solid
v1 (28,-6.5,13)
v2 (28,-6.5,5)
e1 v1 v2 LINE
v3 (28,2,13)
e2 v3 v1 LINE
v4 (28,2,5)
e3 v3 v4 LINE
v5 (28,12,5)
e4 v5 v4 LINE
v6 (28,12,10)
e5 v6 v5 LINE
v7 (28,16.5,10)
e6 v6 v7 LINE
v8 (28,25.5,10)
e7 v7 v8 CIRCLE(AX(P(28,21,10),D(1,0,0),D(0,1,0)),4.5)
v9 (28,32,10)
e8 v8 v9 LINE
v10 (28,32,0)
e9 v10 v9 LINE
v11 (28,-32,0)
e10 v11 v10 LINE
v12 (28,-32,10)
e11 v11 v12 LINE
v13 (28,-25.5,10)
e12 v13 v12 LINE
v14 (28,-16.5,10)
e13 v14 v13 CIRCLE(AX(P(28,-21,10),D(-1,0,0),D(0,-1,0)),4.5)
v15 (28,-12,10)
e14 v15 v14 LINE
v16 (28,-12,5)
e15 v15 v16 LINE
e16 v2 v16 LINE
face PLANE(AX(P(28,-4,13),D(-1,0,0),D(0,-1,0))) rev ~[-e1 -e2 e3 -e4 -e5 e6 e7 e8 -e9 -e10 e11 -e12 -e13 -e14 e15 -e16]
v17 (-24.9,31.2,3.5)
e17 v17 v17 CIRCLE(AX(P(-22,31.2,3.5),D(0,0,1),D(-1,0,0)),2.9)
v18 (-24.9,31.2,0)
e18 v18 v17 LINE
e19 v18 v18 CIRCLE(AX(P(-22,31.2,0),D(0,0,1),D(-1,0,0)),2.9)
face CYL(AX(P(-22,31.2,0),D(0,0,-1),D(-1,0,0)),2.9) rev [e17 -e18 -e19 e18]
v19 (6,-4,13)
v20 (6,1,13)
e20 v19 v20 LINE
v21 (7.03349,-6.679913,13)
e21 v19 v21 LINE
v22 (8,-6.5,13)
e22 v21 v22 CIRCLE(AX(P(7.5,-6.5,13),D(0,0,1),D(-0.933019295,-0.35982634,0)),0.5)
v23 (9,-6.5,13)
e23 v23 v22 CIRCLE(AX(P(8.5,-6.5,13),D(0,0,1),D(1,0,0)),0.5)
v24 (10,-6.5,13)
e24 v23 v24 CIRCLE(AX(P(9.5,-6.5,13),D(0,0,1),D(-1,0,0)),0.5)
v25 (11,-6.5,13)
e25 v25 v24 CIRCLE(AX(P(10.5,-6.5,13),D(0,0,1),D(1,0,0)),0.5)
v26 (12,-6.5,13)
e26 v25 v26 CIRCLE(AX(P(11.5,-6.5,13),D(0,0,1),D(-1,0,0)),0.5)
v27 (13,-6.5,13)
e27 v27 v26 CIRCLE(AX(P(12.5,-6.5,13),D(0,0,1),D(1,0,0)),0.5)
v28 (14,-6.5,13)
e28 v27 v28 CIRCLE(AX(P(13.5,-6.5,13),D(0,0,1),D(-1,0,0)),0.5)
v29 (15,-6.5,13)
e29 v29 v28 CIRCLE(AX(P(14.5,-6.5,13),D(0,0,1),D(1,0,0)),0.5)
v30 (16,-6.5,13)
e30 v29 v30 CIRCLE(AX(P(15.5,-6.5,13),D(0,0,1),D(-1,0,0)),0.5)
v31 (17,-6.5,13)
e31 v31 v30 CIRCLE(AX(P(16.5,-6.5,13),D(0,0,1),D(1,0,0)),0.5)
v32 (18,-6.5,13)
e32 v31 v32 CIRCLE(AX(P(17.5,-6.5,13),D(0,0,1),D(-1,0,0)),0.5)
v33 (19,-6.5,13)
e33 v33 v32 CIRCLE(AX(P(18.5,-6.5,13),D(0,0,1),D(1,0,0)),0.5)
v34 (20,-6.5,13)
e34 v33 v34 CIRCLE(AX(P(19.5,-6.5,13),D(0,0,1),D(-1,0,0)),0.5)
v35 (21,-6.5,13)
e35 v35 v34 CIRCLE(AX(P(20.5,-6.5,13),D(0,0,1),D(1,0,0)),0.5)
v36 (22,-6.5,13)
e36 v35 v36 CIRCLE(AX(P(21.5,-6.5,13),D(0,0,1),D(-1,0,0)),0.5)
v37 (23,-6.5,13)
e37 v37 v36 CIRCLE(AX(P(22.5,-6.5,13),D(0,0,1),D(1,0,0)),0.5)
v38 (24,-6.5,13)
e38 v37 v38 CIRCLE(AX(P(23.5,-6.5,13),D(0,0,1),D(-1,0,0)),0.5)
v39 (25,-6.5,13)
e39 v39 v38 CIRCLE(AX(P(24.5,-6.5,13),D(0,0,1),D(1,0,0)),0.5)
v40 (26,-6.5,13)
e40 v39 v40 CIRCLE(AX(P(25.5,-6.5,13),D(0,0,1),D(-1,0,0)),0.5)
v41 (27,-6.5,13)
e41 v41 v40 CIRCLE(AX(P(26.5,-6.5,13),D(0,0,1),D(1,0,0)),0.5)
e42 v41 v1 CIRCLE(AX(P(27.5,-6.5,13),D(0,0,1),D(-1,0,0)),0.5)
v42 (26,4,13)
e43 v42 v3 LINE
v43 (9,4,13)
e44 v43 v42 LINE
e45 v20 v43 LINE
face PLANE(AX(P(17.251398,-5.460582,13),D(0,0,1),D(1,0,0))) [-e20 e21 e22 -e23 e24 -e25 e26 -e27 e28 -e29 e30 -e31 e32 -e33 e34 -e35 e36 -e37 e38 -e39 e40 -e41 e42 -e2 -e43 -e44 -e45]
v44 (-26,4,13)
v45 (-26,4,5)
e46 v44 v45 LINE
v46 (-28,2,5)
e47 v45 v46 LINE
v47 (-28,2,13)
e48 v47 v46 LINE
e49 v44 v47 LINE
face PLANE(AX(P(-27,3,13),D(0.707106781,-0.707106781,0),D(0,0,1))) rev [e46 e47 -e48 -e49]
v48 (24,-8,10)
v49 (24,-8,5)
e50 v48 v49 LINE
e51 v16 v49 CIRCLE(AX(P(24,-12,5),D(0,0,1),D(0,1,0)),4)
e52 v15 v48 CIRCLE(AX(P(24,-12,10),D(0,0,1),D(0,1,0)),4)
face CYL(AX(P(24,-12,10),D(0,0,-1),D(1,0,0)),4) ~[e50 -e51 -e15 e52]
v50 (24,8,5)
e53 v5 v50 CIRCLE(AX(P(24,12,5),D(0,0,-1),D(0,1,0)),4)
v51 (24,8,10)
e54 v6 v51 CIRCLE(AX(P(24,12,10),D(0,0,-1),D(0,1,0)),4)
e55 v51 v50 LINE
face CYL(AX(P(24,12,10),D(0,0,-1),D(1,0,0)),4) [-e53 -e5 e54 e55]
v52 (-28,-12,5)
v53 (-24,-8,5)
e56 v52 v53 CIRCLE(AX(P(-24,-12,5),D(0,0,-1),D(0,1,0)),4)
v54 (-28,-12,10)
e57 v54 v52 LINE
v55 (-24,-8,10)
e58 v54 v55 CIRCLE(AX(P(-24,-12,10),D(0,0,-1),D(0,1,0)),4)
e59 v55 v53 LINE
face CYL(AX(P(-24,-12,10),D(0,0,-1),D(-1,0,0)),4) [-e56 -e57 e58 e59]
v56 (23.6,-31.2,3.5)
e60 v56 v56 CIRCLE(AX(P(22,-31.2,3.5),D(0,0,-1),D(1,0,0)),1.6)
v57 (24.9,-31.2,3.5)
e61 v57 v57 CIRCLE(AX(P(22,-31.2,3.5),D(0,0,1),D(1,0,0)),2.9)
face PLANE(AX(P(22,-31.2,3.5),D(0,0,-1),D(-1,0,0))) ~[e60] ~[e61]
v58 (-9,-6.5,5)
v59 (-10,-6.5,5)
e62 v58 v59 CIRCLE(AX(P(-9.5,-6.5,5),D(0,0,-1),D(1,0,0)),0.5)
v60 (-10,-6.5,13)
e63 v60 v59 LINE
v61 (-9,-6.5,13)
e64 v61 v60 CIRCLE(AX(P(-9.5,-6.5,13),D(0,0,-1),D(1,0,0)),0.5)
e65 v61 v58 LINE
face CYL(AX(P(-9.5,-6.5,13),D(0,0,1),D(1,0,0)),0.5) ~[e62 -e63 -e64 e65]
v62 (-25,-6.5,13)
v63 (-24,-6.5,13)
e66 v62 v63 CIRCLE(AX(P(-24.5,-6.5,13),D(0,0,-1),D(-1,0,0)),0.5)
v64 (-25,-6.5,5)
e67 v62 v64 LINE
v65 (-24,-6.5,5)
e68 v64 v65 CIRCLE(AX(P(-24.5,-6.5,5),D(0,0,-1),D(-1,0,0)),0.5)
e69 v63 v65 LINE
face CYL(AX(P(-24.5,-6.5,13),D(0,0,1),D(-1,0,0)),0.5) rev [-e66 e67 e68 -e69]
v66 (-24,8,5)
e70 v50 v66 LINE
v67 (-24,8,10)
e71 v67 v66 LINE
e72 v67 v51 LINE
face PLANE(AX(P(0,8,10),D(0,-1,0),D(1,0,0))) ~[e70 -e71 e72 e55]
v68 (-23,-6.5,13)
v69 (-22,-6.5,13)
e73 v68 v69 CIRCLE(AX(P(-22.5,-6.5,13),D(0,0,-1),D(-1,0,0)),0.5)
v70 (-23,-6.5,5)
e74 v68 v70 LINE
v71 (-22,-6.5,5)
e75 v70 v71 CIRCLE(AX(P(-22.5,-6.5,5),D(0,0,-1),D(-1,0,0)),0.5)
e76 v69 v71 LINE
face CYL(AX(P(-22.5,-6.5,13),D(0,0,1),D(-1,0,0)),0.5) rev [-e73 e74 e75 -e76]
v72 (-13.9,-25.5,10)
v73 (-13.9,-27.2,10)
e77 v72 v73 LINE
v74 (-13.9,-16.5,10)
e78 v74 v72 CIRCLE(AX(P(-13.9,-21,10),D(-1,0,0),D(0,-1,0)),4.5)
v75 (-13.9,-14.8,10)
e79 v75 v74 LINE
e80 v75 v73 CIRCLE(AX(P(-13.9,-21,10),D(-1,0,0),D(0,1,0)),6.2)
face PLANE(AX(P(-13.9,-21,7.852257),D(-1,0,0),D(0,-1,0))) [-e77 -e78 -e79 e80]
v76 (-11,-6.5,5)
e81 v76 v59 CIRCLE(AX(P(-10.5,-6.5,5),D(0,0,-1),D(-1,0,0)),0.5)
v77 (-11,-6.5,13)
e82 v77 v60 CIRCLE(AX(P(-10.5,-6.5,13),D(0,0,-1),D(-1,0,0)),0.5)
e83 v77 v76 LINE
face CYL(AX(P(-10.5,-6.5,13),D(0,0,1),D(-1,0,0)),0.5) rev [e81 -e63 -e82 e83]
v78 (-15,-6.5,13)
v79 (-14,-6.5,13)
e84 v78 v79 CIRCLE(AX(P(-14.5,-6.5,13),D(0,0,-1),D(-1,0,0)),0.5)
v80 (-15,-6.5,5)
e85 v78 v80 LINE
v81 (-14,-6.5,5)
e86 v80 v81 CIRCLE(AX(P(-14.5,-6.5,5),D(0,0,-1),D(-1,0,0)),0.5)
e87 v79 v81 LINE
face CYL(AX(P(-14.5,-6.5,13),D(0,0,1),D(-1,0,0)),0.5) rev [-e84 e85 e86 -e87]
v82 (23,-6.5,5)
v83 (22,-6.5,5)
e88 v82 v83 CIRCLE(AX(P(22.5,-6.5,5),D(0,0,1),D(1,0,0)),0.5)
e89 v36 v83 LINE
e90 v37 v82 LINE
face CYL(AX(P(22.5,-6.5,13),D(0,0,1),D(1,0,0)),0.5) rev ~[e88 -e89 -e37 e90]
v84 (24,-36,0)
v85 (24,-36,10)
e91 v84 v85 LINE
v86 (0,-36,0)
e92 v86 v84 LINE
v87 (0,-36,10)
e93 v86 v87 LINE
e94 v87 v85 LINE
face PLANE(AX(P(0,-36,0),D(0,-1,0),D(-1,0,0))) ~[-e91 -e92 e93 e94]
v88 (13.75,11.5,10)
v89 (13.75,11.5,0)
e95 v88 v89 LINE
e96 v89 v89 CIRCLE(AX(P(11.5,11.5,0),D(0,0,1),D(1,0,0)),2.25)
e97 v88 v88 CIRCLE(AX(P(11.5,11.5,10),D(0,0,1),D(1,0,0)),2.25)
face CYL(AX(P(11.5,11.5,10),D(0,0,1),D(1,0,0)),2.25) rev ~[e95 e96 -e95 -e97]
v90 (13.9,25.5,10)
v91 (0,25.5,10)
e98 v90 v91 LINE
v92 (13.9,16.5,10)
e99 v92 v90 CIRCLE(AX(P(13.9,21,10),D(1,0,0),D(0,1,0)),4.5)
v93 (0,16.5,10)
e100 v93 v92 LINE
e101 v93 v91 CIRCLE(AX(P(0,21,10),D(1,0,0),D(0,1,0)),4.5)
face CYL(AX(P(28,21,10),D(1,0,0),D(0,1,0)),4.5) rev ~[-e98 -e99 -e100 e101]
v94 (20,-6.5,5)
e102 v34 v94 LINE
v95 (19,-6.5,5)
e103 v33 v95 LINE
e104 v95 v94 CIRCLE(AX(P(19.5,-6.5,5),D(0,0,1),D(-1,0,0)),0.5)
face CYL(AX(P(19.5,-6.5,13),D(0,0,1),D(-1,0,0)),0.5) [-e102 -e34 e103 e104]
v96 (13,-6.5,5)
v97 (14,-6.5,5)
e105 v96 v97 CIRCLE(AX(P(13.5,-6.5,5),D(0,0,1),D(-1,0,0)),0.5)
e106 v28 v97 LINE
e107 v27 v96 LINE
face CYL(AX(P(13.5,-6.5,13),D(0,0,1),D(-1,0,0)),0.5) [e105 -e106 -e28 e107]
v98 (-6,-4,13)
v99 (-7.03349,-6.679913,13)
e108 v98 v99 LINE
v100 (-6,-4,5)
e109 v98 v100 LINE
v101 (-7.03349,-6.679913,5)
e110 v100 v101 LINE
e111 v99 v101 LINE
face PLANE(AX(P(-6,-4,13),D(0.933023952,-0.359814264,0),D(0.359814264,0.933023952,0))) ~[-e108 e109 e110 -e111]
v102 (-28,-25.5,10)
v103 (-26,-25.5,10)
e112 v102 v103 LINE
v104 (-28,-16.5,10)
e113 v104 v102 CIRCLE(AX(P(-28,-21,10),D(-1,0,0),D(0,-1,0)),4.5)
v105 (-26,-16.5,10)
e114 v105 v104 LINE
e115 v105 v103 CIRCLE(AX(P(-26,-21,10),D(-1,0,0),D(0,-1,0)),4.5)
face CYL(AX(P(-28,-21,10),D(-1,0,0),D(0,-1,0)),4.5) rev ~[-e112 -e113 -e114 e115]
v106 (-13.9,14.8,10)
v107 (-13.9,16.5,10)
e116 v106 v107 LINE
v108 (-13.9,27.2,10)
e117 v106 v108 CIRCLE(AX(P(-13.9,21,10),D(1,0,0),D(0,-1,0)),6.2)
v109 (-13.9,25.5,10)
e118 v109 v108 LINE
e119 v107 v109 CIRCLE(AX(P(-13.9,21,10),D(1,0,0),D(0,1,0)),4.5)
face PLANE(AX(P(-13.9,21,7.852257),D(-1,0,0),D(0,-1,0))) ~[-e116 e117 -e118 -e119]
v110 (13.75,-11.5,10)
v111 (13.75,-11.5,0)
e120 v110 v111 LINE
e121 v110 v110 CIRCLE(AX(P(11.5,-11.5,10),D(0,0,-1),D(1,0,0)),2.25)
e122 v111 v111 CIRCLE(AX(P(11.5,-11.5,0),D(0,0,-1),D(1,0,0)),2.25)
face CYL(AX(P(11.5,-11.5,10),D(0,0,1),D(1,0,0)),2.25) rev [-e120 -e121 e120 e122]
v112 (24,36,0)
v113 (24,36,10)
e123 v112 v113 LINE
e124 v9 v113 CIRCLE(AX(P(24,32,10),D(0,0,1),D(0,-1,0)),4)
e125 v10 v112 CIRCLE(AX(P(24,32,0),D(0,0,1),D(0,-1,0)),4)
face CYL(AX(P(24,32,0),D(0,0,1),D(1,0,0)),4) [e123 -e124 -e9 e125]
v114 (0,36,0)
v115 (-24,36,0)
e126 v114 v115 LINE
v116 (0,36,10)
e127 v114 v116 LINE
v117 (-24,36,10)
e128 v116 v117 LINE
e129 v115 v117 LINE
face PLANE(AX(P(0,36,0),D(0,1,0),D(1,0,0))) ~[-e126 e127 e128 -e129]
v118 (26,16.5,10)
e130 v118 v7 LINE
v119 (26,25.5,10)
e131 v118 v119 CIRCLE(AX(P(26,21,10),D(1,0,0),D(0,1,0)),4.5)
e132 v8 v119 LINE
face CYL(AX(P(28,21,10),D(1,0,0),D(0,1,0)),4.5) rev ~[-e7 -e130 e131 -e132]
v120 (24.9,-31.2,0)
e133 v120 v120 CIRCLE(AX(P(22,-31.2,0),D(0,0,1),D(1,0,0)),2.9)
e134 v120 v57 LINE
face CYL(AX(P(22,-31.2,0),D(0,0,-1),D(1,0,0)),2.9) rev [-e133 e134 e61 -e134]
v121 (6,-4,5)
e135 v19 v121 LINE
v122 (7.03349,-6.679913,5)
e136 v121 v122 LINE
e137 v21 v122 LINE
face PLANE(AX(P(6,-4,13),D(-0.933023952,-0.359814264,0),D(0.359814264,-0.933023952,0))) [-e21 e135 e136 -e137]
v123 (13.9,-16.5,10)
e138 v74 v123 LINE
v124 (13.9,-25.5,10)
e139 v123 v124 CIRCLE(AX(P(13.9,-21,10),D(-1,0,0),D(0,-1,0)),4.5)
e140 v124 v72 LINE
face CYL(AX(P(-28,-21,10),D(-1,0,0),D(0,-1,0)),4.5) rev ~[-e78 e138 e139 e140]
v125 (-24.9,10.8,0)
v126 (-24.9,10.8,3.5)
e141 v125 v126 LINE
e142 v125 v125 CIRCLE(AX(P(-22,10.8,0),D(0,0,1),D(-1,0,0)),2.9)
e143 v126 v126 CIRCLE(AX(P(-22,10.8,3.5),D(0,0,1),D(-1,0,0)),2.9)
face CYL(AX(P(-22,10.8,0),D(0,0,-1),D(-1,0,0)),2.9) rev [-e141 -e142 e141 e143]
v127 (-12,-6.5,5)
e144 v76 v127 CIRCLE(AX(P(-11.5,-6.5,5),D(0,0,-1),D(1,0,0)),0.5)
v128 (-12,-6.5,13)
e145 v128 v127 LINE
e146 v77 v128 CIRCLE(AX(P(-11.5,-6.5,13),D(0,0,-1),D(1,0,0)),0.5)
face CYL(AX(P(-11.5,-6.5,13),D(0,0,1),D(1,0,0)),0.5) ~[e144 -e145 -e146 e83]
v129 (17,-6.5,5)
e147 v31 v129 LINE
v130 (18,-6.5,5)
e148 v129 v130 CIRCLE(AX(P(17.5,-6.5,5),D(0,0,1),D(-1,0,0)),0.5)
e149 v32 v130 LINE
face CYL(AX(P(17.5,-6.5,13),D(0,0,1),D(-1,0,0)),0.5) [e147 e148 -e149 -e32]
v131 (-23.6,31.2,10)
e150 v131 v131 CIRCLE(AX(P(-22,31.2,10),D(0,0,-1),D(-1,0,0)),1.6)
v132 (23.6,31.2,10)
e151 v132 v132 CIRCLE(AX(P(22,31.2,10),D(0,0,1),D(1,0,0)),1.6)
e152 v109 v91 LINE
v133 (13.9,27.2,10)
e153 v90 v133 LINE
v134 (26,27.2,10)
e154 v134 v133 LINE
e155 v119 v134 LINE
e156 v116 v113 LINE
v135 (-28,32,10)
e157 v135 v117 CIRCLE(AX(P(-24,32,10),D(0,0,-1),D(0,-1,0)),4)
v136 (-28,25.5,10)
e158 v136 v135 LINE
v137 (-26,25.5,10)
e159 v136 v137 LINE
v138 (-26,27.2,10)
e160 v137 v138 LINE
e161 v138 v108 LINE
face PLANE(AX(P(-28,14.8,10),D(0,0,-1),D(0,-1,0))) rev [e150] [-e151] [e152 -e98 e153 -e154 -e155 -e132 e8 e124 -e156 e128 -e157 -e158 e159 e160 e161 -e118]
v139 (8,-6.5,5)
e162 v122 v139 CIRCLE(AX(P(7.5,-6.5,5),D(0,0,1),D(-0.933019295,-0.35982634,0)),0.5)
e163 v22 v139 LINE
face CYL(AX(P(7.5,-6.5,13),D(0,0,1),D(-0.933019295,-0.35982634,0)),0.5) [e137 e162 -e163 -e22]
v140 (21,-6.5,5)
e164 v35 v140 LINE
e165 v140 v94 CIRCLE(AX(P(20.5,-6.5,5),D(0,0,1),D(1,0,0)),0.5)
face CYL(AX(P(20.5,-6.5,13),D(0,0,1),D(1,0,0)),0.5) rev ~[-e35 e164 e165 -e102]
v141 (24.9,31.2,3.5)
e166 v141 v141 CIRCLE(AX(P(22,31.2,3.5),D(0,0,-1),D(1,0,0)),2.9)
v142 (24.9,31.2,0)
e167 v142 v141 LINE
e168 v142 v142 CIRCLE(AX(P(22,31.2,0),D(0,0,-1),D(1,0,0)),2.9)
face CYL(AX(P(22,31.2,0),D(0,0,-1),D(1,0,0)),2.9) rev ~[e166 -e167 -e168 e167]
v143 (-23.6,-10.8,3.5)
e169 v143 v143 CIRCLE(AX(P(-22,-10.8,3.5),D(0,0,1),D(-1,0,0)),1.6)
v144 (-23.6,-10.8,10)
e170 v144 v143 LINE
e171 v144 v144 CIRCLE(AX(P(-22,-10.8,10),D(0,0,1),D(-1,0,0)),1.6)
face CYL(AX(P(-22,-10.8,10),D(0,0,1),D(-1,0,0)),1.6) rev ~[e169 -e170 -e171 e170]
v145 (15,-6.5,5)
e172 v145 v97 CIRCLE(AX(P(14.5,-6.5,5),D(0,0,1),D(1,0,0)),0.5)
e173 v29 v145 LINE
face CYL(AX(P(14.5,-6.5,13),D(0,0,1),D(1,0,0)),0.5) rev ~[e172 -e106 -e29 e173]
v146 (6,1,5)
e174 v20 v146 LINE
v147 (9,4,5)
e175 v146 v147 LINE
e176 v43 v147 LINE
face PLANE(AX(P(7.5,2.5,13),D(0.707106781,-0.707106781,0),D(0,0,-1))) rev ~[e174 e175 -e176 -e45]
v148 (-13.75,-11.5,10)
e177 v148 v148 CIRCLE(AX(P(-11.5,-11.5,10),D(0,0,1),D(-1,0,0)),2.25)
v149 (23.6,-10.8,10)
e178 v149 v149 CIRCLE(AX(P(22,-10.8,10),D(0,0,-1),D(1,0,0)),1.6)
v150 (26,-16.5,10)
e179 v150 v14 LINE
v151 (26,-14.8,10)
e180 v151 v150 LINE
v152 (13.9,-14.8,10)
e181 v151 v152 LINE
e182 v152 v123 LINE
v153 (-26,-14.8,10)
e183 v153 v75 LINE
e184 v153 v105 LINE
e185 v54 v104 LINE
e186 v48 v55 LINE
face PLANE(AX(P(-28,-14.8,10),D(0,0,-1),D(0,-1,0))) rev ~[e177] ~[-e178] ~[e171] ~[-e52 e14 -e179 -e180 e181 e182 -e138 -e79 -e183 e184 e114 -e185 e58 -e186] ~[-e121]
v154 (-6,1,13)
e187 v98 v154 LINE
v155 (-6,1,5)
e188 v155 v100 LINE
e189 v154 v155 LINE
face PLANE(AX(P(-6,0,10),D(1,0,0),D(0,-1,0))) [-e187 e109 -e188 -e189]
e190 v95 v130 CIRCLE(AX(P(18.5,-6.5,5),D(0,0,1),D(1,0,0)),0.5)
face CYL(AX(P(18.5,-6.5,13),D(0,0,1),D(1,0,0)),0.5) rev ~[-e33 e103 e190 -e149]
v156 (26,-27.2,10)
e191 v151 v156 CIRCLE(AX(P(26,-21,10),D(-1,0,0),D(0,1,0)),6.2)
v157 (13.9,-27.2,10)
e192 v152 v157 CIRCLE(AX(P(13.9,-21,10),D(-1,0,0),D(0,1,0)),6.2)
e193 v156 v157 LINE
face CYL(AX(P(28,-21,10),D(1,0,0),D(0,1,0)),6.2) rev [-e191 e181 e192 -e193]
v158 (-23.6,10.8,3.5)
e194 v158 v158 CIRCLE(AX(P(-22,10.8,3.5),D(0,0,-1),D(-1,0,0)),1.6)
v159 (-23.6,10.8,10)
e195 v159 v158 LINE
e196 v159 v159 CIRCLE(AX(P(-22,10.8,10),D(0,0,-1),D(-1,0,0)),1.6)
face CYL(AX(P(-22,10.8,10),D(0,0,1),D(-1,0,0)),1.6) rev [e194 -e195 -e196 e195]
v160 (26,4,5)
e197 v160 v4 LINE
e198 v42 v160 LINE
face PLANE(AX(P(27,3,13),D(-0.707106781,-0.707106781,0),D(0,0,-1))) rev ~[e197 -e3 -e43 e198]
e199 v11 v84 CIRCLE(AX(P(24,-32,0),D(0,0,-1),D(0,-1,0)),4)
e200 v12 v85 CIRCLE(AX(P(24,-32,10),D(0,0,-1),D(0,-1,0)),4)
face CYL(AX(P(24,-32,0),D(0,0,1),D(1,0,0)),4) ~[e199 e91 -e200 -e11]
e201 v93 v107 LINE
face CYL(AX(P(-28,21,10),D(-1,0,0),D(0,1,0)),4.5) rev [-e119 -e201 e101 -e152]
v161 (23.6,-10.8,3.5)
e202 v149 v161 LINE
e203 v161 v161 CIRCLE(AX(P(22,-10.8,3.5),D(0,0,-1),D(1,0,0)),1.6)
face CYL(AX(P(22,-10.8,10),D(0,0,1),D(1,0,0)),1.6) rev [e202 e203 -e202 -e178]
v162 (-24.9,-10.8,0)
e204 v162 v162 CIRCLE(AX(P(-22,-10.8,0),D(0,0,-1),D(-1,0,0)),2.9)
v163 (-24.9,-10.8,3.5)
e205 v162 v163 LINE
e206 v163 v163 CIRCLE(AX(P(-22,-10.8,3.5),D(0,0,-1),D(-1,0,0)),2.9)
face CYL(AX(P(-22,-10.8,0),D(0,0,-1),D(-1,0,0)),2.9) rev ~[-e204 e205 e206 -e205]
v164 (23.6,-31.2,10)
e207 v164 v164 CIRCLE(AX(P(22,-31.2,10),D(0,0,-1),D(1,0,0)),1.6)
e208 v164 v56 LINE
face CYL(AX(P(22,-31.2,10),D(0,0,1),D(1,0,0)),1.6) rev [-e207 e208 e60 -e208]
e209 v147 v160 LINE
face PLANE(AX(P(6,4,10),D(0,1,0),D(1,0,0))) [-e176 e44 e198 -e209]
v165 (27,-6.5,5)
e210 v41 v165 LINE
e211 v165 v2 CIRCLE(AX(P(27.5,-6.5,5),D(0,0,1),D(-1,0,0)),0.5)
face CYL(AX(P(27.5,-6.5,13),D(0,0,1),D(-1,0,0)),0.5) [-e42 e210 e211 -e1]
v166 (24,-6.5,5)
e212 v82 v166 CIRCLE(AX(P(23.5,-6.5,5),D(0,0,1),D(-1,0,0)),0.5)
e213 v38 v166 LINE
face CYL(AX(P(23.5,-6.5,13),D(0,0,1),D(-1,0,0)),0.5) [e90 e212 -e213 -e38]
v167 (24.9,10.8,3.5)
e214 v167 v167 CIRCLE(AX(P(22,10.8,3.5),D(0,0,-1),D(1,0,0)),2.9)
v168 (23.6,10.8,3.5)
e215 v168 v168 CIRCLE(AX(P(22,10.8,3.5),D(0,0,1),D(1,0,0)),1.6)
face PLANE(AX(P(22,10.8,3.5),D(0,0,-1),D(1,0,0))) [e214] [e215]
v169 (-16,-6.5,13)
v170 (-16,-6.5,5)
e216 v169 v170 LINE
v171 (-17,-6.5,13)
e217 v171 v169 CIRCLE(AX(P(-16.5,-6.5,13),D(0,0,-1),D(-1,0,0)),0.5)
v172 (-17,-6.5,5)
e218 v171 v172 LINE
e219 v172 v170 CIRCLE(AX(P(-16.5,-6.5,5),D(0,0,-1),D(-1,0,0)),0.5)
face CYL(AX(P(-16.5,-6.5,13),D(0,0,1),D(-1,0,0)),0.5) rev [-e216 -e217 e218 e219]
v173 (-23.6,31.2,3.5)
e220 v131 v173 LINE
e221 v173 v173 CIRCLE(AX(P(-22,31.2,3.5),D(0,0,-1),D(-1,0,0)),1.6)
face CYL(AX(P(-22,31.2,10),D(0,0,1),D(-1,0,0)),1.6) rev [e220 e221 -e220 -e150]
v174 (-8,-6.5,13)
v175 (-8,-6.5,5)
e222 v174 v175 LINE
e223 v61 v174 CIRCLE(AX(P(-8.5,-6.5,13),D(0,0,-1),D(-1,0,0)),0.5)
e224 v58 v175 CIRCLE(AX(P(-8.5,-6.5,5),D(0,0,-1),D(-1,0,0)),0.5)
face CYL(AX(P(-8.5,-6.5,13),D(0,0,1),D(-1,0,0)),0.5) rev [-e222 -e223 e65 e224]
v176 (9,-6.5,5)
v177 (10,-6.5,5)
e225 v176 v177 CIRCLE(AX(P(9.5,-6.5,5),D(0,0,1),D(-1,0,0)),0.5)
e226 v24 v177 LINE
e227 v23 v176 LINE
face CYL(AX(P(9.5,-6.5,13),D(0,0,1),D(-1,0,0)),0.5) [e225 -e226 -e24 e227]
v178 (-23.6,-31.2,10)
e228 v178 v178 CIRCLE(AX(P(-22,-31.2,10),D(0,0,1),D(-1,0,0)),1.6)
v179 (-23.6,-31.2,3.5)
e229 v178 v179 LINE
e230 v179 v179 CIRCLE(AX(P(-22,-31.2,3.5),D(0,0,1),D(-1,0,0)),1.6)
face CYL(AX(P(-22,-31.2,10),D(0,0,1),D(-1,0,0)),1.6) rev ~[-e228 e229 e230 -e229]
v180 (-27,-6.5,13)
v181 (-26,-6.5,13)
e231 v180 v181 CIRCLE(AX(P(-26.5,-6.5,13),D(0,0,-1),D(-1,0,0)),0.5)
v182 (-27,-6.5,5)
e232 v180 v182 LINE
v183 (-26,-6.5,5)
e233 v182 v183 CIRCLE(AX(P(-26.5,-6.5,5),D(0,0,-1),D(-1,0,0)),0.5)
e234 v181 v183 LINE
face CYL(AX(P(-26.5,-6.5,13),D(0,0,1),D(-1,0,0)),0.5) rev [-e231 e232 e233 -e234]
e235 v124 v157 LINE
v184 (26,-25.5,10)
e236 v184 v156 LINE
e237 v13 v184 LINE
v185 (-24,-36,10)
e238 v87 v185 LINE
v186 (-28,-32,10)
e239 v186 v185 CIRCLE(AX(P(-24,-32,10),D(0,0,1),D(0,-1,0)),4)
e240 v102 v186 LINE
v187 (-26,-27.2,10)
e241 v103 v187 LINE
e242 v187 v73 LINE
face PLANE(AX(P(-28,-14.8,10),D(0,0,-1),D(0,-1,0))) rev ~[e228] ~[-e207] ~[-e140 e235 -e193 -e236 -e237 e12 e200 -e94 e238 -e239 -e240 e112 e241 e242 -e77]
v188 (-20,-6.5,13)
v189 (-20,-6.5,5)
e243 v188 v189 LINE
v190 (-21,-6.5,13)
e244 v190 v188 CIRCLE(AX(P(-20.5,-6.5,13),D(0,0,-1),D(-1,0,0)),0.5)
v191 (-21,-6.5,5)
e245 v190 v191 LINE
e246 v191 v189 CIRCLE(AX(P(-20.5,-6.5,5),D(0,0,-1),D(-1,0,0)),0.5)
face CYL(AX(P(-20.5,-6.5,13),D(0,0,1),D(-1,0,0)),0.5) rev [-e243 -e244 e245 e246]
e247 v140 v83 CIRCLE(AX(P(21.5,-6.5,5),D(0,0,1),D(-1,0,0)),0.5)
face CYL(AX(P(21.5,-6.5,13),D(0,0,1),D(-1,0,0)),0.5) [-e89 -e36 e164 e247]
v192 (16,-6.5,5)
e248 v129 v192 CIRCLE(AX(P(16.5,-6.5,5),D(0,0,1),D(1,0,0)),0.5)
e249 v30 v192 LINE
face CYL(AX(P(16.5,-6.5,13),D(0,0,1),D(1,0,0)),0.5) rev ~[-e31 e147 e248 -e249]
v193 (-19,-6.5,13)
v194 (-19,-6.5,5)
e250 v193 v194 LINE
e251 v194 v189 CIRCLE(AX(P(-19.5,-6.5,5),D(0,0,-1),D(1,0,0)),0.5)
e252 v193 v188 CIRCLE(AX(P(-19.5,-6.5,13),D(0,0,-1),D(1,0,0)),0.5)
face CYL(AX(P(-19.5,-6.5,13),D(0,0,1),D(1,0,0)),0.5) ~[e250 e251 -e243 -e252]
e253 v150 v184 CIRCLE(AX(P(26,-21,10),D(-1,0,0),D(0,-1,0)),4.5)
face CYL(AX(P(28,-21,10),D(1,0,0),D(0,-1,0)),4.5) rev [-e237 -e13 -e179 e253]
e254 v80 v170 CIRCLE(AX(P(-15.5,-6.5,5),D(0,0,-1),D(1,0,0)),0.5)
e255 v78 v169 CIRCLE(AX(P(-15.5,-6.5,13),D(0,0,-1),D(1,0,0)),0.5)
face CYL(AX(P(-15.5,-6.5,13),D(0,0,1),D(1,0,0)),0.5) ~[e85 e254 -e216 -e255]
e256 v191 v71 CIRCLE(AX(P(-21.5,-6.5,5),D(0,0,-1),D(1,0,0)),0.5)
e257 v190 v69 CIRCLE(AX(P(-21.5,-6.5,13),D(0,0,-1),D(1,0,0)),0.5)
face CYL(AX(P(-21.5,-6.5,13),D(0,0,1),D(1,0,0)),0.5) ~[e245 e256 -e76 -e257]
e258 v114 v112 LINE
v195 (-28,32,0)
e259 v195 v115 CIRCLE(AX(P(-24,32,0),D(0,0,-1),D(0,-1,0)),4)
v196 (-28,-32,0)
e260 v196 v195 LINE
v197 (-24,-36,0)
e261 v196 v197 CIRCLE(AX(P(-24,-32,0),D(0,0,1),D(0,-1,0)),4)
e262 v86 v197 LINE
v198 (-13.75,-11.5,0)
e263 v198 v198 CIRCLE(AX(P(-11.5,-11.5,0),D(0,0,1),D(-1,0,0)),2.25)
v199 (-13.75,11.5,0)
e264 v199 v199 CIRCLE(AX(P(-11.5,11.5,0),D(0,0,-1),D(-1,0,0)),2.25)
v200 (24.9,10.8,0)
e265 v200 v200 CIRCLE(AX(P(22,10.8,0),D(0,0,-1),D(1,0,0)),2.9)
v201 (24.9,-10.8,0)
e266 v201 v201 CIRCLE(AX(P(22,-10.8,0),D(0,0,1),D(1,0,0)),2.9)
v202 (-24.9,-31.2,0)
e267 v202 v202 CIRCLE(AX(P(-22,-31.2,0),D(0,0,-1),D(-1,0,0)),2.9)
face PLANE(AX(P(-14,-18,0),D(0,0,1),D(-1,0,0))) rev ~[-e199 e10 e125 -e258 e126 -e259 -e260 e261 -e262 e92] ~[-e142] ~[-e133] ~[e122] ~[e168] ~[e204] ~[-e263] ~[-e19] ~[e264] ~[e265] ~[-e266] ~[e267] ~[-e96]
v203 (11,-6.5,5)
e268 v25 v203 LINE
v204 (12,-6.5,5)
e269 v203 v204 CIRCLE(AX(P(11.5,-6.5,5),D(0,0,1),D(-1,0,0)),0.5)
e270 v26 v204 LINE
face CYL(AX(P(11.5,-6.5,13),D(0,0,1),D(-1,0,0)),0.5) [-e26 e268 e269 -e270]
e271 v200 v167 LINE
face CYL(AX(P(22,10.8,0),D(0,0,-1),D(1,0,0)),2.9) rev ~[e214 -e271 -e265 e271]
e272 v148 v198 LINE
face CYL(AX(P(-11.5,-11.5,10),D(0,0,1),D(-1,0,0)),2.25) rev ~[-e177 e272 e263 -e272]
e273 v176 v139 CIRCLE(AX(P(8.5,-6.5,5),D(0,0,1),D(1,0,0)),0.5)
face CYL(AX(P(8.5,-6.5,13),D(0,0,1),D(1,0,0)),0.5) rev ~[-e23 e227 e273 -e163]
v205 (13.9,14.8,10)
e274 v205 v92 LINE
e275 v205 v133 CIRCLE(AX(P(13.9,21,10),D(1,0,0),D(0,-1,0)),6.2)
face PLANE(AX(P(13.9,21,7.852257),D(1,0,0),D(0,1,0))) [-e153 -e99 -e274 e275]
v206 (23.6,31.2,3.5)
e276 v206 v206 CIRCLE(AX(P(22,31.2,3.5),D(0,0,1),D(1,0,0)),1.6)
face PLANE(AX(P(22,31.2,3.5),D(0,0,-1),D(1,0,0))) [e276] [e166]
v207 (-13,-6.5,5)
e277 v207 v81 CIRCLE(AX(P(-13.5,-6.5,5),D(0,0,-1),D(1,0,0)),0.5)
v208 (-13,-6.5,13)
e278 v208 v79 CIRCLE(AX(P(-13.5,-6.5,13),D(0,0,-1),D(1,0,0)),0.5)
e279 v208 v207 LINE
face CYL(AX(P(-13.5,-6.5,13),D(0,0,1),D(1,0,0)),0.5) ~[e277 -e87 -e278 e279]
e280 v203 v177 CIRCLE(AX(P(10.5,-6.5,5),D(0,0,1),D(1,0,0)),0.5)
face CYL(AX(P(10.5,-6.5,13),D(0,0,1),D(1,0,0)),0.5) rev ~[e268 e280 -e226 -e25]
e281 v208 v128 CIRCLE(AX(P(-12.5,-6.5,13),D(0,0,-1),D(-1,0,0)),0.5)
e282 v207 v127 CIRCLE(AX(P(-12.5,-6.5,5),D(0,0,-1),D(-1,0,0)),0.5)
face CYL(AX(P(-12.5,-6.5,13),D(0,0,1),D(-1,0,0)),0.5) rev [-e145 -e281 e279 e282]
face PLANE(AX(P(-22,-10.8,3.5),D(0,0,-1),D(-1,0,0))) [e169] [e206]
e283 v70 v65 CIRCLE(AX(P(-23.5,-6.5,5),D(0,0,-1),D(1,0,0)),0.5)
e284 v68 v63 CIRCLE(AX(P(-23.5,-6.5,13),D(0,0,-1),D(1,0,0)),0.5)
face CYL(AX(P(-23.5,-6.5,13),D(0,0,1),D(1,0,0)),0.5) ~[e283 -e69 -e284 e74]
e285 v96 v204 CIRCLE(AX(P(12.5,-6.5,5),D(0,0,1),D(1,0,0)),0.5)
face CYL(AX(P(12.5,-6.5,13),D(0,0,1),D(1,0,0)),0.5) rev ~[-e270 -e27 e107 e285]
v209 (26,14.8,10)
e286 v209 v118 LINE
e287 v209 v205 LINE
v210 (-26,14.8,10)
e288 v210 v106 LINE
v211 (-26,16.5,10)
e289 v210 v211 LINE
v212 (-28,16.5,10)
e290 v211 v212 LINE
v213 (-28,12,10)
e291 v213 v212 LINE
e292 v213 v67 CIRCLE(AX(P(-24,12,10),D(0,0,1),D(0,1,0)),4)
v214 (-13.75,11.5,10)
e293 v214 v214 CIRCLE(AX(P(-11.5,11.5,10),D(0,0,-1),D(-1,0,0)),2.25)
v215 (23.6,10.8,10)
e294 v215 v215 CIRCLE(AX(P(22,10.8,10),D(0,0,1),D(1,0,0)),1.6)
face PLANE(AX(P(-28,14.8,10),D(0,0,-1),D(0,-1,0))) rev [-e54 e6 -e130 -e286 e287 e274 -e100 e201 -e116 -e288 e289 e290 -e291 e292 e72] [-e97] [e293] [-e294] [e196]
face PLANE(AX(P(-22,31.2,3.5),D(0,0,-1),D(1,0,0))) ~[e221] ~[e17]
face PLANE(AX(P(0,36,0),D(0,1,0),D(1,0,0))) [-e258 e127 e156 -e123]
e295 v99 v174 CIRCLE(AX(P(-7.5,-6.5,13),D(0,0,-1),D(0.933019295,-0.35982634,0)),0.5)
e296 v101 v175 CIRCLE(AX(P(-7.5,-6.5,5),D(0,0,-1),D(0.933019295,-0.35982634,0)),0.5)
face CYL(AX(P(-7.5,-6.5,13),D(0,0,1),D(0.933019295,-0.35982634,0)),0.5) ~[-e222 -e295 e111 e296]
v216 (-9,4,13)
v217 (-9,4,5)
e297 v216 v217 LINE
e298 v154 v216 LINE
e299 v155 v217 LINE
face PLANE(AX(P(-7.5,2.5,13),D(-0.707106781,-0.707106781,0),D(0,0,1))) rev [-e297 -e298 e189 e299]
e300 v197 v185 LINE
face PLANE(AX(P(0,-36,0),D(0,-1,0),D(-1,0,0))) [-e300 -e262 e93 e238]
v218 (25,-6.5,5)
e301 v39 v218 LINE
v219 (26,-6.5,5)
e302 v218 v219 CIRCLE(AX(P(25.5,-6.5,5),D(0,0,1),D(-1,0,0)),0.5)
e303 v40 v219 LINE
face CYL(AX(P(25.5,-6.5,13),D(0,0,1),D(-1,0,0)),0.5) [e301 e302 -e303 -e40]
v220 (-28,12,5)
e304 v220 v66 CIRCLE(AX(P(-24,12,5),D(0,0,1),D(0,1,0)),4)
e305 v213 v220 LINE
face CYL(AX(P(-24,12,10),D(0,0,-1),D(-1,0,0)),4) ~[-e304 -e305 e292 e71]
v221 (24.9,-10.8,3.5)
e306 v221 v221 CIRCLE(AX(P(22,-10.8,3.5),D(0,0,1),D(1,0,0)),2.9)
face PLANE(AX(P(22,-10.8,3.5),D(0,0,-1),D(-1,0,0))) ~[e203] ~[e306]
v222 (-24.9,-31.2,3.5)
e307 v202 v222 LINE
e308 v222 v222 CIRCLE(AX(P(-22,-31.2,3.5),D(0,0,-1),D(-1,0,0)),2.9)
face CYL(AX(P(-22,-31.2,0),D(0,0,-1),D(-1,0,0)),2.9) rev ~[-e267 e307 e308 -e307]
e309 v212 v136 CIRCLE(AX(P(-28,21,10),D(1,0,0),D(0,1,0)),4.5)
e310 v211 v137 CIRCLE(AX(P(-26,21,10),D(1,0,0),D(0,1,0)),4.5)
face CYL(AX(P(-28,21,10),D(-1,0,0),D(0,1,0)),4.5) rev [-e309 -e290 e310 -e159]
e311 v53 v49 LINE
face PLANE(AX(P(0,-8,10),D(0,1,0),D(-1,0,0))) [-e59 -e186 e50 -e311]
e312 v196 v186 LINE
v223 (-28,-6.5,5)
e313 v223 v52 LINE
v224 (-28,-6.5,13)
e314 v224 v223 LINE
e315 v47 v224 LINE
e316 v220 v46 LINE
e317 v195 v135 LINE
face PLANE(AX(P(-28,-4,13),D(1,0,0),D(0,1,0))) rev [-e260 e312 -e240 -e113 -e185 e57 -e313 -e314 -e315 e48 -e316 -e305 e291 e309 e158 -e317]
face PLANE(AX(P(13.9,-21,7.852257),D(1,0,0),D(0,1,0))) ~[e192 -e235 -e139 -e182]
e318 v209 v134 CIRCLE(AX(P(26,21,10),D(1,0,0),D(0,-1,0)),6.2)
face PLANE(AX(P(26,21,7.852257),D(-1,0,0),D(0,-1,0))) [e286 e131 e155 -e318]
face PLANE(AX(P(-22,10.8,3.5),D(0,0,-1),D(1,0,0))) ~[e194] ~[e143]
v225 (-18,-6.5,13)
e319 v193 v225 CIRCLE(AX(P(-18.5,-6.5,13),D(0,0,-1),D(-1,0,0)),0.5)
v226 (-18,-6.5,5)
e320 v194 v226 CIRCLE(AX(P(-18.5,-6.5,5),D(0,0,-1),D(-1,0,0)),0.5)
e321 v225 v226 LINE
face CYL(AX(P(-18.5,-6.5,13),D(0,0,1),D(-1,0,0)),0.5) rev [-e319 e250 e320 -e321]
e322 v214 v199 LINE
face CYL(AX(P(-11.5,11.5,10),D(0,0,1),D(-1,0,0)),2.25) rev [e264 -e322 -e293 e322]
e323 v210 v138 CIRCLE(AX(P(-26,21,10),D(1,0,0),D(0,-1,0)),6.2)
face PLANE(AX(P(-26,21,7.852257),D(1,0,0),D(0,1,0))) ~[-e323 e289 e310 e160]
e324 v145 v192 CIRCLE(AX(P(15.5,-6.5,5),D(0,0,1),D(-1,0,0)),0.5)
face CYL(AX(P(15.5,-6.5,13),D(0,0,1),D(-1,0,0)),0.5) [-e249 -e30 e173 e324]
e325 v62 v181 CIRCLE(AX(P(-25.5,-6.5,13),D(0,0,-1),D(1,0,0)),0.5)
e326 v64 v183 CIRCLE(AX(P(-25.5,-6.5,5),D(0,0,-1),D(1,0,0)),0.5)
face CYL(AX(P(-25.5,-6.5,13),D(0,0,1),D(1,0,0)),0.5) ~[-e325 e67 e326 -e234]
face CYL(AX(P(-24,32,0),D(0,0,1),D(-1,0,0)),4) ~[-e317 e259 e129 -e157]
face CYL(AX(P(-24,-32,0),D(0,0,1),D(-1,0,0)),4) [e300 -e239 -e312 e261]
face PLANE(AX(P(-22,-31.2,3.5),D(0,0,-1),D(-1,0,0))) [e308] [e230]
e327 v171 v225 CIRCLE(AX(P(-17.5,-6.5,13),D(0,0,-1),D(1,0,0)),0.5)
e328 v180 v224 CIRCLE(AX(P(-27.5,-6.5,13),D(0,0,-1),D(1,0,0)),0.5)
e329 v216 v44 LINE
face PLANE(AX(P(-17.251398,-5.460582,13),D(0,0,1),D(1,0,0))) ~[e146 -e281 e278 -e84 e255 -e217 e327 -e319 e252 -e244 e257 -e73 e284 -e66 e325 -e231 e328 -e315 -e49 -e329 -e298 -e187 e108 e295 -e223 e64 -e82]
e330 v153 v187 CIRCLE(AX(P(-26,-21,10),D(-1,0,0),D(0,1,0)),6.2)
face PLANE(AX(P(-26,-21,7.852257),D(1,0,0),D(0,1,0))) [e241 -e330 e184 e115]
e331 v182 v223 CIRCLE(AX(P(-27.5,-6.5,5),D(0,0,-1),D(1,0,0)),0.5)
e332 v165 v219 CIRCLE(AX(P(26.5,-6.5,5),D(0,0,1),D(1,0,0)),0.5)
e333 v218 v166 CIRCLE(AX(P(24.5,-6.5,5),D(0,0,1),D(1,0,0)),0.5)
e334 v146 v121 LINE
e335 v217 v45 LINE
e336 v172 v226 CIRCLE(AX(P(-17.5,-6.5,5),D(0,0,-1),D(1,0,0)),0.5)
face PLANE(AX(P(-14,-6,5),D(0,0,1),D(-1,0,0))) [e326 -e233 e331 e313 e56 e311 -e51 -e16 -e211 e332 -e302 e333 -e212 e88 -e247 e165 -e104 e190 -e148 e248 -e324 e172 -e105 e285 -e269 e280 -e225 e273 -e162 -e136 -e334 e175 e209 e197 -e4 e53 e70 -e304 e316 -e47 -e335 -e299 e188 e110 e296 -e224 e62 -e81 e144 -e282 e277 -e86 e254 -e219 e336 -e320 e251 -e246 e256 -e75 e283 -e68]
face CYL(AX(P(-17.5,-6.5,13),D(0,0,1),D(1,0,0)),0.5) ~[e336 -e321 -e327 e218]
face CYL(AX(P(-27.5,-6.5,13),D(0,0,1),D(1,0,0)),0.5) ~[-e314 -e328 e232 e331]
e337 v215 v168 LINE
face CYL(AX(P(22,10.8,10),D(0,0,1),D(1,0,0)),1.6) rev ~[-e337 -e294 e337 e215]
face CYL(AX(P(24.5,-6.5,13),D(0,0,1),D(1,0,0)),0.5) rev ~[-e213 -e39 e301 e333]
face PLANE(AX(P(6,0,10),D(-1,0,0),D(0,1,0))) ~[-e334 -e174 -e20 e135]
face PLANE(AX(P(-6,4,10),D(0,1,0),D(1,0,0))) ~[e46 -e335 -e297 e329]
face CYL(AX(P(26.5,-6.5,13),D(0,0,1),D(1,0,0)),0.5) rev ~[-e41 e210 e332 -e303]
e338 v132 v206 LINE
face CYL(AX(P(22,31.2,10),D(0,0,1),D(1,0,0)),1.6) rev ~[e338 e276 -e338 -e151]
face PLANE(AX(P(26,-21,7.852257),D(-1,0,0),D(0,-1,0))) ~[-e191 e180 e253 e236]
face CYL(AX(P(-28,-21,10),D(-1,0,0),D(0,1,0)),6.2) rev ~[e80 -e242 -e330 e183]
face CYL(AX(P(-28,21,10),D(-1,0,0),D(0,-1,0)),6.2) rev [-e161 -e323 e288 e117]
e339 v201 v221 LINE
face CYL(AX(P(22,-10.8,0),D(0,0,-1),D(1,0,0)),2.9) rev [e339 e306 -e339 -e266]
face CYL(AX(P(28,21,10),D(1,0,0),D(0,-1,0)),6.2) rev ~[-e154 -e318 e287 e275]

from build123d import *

# Parameters (mm, degrees)
BOX_W           = 28
BOX_H           = 36
BOX_DEPTH       = 10
POCKET_DEPTH    = 14.1
PAD_DEPTH       = 2
SKETCH002_R     = 4.5
POCKET001_DEPTH = 28.001
SKETCH003_R     = 2.25
SKETCH003_R_2   = 1.6
POCKET002_DEPTH = 10.001
SKETCH004_R     = 2.9
POCKET003_DEPTH = 3.5
SKETCH005_W     = 6
SKETCH005_H     = 4
POCKET004_DEPTH = 5
SKETCH006_W     = 28
SKETCH006_H     = 4
POCKET005_DEPTH = 5
SKETCH007_W     = 22
SKETCH007_H     = 4
PAD001_DEPTH    = 3
PAD002_DEPTH    = 8
CHAMFER_SIZE    = 2
CHAMFER001_SIZE = 3
FILLET_R        = 4
FILLET001_R     = 4
FILLET002_R     = 4
FILLET003_R     = 4


with BuildPart() as pad001:
    # Box → Box (new body)
    with BuildSketch(Plane.XY):
        with Locations((14, 18)):
            Rectangle(BOX_W, BOX_H)
    extrude(amount=BOX_DEPTH)

    # Sketch → Pocket (cut)
    with BuildSketch(Plane.YZ.offset(28)):
        with BuildLine():
            ThreePointArc((14.8, 10), (21, 3.8), (27.2, 10))
            Line((14.8, 10), (27.2, 10))
        make_face()
    extrude(amount=-POCKET_DEPTH, mode=Mode.SUBTRACT)

    # Sketch001 → Pad (new body)
    with BuildSketch(Plane.YZ.offset(28)):
        with BuildLine():
            Line((14.8, 10), (27.2, 10))
            ThreePointArc((14.8, 10), (21, 3.8), (27.2, 10))
        make_face()
    extrude(amount=-PAD_DEPTH)

    # Sketch002 → Pocket001 (cut, through all)
    with BuildSketch(Plane.YZ.offset(28)):
        with Locations((21, 10)):
            Circle(SKETCH002_R)
    extrude(amount=-POCKET001_DEPTH, mode=Mode.SUBTRACT)

    # Sketch003 → Pocket002 (cut, through all)
    with BuildSketch(Plane.XY.offset(10)):
        with Locations((11.5, 11.5)):
            Circle(SKETCH003_R)
        with Locations((22, 10.8)):
            Circle(SKETCH003_R_2)
        with Locations((22, 31.2)):
            Circle(SKETCH003_R_2)
    extrude(amount=-POCKET002_DEPTH, mode=Mode.SUBTRACT)

    # Sketch004 → Pocket003 (cut)
    with BuildSketch(Plane(origin=(0, 0, 0), x_dir=(1, 0, 0), z_dir=(0, 0, -1))):
        with Locations((22, -10.8)):
            Circle(SKETCH004_R)
        with Locations((22, -31.2)):
            Circle(SKETCH004_R)
    extrude(amount=-POCKET003_DEPTH, mode=Mode.SUBTRACT)

    # Sketch005 → Pocket004 (cut)
    with BuildSketch(Plane.XY.offset(10)):
        with Locations((3, 2)):
            Rectangle(SKETCH005_W, SKETCH005_H)
    extrude(amount=-POCKET004_DEPTH, mode=Mode.SUBTRACT)

    # Sketch006 → Pocket005 (cut)
    with BuildSketch(Plane.XY.offset(10)):
        with Locations((14, 6)):
            Rectangle(SKETCH006_W, SKETCH006_H)
    extrude(amount=-POCKET005_DEPTH, mode=Mode.SUBTRACT)

    # Sketch007 → Pad001 (new body)
    with BuildSketch(Plane.XY.offset(10)):
        with Locations((17, 2)):
            Rectangle(SKETCH007_W, SKETCH007_H)
    extrude(amount=PAD001_DEPTH)


with BuildPart() as part_mirroring:
    # Part__Mirroring: instance of Pad001
    add(pad001.part.mirror(Plane(origin=(0, 0, 0), x_dir=(1, 0, 0), z_dir=(0, 1, 0))))


with BuildPart() as fillet003:
    # Fusion base: copy of Pad001
    add(pad001.part)

    # Fusion: union Part__Mirroring
    add(part_mirroring.part)

    # Sketch008 → Pad002 (new body)
    with BuildSketch(Plane.XY.offset(13)):
        with BuildLine():
            ThreePointArc((27, -6.5), (27.5, -7), (28, -6.5))
            Line((28, -4), (28, -6.5))
            Line((6, -4), (28, -4))
            Line((6, -4), (7.03349, -6.679913))
            ThreePointArc((7.03349, -6.679913), (7.591502, -6.991556), (8, -6.5))
            ThreePointArc((9, -6.5), (8.5, -6), (8, -6.5))
            ThreePointArc((9, -6.5), (9.5, -7), (10, -6.5))
            ThreePointArc((11, -6.5), (10.5, -6), (10, -6.5))
            ThreePointArc((11, -6.5), (11.5, -7), (12, -6.5))
            ThreePointArc((13, -6.5), (12.5, -6), (12, -6.5))
            ThreePointArc((13, -6.5), (13.5, -7), (14, -6.5))
            ThreePointArc((15, -6.5), (14.5, -6), (14, -6.5))
            ThreePointArc((15, -6.5), (15.5, -7), (16, -6.5))
            ThreePointArc((17, -6.5), (16.5, -6), (16, -6.5))
            ThreePointArc((17, -6.5), (17.5, -7), (18, -6.5))
            ThreePointArc((19, -6.5), (18.5, -6), (18, -6.5))
            ThreePointArc((19, -6.5), (19.5, -7), (20, -6.5))
            ThreePointArc((21, -6.5), (20.5, -6), (20, -6.5))
            ThreePointArc((21, -6.5), (21.5, -7), (22, -6.5))
            ThreePointArc((23, -6.5), (22.5, -6), (22, -6.5))
            ThreePointArc((23, -6.5), (23.5, -7), (24, -6.5))
            ThreePointArc((25, -6.5), (24.5, -6), (24, -6.5))
            ThreePointArc((25, -6.5), (25.5, -7), (26, -6.5))
            ThreePointArc((27, -6.5), (26.5, -6), (26, -6.5))
        make_face()
    extrude(amount=-PAD002_DEPTH)

    # Chamfer
    chamfer_edges = [fillet003.edges().sort_by_distance(p)[0] for p in [
        (28, 4, 7.5),
    ]]
    chamfer(chamfer_edges, length=CHAMFER_SIZE)

    # Chamfer001
    chamfer001_edges = [fillet003.edges().sort_by_distance(p)[0] for p in [
        (6, 4, 7.5),
    ]]
    chamfer(chamfer001_edges, length=CHAMFER001_SIZE)

    # Fillet
    fillet_edges = [fillet003.edges().sort_by_distance(p)[0] for p in [
        (28, 36, 5),
    ]]
    fillet(fillet_edges, radius=FILLET_R)

    # Fillet001
    fillet001_edges = [fillet003.edges().sort_by_distance(p)[0] for p in [
        (28, 8, 7.5),
    ]]
    fillet(fillet001_edges, radius=FILLET001_R)

    # Fillet002
    fillet002_edges = [fillet003.edges().sort_by_distance(p)[0] for p in [
        (28, -36, 5),
    ]]
    fillet(fillet002_edges, radius=FILLET002_R)

    # Fillet003
    fillet003_edges = [fillet003.edges().sort_by_distance(p)[0] for p in [
        (28, -8, 7.5),
    ]]
    fillet(fillet003_edges, radius=FILLET003_R)


with BuildPart() as part_mirroring001:
    # Part__Mirroring001: instance of Fillet003
    add(fillet003.part.mirror(Plane(origin=(0, 0, 0), x_dir=(0, -1, 0), z_dir=(1, 0, 0))))


with BuildPart() as fusion001:
    # Fusion001 base: copy of Fillet003
    add(fillet003.part)

    # Fusion001: union Part__Mirroring001
    add(part_mirroring001.part)


solid = fusion001.part
